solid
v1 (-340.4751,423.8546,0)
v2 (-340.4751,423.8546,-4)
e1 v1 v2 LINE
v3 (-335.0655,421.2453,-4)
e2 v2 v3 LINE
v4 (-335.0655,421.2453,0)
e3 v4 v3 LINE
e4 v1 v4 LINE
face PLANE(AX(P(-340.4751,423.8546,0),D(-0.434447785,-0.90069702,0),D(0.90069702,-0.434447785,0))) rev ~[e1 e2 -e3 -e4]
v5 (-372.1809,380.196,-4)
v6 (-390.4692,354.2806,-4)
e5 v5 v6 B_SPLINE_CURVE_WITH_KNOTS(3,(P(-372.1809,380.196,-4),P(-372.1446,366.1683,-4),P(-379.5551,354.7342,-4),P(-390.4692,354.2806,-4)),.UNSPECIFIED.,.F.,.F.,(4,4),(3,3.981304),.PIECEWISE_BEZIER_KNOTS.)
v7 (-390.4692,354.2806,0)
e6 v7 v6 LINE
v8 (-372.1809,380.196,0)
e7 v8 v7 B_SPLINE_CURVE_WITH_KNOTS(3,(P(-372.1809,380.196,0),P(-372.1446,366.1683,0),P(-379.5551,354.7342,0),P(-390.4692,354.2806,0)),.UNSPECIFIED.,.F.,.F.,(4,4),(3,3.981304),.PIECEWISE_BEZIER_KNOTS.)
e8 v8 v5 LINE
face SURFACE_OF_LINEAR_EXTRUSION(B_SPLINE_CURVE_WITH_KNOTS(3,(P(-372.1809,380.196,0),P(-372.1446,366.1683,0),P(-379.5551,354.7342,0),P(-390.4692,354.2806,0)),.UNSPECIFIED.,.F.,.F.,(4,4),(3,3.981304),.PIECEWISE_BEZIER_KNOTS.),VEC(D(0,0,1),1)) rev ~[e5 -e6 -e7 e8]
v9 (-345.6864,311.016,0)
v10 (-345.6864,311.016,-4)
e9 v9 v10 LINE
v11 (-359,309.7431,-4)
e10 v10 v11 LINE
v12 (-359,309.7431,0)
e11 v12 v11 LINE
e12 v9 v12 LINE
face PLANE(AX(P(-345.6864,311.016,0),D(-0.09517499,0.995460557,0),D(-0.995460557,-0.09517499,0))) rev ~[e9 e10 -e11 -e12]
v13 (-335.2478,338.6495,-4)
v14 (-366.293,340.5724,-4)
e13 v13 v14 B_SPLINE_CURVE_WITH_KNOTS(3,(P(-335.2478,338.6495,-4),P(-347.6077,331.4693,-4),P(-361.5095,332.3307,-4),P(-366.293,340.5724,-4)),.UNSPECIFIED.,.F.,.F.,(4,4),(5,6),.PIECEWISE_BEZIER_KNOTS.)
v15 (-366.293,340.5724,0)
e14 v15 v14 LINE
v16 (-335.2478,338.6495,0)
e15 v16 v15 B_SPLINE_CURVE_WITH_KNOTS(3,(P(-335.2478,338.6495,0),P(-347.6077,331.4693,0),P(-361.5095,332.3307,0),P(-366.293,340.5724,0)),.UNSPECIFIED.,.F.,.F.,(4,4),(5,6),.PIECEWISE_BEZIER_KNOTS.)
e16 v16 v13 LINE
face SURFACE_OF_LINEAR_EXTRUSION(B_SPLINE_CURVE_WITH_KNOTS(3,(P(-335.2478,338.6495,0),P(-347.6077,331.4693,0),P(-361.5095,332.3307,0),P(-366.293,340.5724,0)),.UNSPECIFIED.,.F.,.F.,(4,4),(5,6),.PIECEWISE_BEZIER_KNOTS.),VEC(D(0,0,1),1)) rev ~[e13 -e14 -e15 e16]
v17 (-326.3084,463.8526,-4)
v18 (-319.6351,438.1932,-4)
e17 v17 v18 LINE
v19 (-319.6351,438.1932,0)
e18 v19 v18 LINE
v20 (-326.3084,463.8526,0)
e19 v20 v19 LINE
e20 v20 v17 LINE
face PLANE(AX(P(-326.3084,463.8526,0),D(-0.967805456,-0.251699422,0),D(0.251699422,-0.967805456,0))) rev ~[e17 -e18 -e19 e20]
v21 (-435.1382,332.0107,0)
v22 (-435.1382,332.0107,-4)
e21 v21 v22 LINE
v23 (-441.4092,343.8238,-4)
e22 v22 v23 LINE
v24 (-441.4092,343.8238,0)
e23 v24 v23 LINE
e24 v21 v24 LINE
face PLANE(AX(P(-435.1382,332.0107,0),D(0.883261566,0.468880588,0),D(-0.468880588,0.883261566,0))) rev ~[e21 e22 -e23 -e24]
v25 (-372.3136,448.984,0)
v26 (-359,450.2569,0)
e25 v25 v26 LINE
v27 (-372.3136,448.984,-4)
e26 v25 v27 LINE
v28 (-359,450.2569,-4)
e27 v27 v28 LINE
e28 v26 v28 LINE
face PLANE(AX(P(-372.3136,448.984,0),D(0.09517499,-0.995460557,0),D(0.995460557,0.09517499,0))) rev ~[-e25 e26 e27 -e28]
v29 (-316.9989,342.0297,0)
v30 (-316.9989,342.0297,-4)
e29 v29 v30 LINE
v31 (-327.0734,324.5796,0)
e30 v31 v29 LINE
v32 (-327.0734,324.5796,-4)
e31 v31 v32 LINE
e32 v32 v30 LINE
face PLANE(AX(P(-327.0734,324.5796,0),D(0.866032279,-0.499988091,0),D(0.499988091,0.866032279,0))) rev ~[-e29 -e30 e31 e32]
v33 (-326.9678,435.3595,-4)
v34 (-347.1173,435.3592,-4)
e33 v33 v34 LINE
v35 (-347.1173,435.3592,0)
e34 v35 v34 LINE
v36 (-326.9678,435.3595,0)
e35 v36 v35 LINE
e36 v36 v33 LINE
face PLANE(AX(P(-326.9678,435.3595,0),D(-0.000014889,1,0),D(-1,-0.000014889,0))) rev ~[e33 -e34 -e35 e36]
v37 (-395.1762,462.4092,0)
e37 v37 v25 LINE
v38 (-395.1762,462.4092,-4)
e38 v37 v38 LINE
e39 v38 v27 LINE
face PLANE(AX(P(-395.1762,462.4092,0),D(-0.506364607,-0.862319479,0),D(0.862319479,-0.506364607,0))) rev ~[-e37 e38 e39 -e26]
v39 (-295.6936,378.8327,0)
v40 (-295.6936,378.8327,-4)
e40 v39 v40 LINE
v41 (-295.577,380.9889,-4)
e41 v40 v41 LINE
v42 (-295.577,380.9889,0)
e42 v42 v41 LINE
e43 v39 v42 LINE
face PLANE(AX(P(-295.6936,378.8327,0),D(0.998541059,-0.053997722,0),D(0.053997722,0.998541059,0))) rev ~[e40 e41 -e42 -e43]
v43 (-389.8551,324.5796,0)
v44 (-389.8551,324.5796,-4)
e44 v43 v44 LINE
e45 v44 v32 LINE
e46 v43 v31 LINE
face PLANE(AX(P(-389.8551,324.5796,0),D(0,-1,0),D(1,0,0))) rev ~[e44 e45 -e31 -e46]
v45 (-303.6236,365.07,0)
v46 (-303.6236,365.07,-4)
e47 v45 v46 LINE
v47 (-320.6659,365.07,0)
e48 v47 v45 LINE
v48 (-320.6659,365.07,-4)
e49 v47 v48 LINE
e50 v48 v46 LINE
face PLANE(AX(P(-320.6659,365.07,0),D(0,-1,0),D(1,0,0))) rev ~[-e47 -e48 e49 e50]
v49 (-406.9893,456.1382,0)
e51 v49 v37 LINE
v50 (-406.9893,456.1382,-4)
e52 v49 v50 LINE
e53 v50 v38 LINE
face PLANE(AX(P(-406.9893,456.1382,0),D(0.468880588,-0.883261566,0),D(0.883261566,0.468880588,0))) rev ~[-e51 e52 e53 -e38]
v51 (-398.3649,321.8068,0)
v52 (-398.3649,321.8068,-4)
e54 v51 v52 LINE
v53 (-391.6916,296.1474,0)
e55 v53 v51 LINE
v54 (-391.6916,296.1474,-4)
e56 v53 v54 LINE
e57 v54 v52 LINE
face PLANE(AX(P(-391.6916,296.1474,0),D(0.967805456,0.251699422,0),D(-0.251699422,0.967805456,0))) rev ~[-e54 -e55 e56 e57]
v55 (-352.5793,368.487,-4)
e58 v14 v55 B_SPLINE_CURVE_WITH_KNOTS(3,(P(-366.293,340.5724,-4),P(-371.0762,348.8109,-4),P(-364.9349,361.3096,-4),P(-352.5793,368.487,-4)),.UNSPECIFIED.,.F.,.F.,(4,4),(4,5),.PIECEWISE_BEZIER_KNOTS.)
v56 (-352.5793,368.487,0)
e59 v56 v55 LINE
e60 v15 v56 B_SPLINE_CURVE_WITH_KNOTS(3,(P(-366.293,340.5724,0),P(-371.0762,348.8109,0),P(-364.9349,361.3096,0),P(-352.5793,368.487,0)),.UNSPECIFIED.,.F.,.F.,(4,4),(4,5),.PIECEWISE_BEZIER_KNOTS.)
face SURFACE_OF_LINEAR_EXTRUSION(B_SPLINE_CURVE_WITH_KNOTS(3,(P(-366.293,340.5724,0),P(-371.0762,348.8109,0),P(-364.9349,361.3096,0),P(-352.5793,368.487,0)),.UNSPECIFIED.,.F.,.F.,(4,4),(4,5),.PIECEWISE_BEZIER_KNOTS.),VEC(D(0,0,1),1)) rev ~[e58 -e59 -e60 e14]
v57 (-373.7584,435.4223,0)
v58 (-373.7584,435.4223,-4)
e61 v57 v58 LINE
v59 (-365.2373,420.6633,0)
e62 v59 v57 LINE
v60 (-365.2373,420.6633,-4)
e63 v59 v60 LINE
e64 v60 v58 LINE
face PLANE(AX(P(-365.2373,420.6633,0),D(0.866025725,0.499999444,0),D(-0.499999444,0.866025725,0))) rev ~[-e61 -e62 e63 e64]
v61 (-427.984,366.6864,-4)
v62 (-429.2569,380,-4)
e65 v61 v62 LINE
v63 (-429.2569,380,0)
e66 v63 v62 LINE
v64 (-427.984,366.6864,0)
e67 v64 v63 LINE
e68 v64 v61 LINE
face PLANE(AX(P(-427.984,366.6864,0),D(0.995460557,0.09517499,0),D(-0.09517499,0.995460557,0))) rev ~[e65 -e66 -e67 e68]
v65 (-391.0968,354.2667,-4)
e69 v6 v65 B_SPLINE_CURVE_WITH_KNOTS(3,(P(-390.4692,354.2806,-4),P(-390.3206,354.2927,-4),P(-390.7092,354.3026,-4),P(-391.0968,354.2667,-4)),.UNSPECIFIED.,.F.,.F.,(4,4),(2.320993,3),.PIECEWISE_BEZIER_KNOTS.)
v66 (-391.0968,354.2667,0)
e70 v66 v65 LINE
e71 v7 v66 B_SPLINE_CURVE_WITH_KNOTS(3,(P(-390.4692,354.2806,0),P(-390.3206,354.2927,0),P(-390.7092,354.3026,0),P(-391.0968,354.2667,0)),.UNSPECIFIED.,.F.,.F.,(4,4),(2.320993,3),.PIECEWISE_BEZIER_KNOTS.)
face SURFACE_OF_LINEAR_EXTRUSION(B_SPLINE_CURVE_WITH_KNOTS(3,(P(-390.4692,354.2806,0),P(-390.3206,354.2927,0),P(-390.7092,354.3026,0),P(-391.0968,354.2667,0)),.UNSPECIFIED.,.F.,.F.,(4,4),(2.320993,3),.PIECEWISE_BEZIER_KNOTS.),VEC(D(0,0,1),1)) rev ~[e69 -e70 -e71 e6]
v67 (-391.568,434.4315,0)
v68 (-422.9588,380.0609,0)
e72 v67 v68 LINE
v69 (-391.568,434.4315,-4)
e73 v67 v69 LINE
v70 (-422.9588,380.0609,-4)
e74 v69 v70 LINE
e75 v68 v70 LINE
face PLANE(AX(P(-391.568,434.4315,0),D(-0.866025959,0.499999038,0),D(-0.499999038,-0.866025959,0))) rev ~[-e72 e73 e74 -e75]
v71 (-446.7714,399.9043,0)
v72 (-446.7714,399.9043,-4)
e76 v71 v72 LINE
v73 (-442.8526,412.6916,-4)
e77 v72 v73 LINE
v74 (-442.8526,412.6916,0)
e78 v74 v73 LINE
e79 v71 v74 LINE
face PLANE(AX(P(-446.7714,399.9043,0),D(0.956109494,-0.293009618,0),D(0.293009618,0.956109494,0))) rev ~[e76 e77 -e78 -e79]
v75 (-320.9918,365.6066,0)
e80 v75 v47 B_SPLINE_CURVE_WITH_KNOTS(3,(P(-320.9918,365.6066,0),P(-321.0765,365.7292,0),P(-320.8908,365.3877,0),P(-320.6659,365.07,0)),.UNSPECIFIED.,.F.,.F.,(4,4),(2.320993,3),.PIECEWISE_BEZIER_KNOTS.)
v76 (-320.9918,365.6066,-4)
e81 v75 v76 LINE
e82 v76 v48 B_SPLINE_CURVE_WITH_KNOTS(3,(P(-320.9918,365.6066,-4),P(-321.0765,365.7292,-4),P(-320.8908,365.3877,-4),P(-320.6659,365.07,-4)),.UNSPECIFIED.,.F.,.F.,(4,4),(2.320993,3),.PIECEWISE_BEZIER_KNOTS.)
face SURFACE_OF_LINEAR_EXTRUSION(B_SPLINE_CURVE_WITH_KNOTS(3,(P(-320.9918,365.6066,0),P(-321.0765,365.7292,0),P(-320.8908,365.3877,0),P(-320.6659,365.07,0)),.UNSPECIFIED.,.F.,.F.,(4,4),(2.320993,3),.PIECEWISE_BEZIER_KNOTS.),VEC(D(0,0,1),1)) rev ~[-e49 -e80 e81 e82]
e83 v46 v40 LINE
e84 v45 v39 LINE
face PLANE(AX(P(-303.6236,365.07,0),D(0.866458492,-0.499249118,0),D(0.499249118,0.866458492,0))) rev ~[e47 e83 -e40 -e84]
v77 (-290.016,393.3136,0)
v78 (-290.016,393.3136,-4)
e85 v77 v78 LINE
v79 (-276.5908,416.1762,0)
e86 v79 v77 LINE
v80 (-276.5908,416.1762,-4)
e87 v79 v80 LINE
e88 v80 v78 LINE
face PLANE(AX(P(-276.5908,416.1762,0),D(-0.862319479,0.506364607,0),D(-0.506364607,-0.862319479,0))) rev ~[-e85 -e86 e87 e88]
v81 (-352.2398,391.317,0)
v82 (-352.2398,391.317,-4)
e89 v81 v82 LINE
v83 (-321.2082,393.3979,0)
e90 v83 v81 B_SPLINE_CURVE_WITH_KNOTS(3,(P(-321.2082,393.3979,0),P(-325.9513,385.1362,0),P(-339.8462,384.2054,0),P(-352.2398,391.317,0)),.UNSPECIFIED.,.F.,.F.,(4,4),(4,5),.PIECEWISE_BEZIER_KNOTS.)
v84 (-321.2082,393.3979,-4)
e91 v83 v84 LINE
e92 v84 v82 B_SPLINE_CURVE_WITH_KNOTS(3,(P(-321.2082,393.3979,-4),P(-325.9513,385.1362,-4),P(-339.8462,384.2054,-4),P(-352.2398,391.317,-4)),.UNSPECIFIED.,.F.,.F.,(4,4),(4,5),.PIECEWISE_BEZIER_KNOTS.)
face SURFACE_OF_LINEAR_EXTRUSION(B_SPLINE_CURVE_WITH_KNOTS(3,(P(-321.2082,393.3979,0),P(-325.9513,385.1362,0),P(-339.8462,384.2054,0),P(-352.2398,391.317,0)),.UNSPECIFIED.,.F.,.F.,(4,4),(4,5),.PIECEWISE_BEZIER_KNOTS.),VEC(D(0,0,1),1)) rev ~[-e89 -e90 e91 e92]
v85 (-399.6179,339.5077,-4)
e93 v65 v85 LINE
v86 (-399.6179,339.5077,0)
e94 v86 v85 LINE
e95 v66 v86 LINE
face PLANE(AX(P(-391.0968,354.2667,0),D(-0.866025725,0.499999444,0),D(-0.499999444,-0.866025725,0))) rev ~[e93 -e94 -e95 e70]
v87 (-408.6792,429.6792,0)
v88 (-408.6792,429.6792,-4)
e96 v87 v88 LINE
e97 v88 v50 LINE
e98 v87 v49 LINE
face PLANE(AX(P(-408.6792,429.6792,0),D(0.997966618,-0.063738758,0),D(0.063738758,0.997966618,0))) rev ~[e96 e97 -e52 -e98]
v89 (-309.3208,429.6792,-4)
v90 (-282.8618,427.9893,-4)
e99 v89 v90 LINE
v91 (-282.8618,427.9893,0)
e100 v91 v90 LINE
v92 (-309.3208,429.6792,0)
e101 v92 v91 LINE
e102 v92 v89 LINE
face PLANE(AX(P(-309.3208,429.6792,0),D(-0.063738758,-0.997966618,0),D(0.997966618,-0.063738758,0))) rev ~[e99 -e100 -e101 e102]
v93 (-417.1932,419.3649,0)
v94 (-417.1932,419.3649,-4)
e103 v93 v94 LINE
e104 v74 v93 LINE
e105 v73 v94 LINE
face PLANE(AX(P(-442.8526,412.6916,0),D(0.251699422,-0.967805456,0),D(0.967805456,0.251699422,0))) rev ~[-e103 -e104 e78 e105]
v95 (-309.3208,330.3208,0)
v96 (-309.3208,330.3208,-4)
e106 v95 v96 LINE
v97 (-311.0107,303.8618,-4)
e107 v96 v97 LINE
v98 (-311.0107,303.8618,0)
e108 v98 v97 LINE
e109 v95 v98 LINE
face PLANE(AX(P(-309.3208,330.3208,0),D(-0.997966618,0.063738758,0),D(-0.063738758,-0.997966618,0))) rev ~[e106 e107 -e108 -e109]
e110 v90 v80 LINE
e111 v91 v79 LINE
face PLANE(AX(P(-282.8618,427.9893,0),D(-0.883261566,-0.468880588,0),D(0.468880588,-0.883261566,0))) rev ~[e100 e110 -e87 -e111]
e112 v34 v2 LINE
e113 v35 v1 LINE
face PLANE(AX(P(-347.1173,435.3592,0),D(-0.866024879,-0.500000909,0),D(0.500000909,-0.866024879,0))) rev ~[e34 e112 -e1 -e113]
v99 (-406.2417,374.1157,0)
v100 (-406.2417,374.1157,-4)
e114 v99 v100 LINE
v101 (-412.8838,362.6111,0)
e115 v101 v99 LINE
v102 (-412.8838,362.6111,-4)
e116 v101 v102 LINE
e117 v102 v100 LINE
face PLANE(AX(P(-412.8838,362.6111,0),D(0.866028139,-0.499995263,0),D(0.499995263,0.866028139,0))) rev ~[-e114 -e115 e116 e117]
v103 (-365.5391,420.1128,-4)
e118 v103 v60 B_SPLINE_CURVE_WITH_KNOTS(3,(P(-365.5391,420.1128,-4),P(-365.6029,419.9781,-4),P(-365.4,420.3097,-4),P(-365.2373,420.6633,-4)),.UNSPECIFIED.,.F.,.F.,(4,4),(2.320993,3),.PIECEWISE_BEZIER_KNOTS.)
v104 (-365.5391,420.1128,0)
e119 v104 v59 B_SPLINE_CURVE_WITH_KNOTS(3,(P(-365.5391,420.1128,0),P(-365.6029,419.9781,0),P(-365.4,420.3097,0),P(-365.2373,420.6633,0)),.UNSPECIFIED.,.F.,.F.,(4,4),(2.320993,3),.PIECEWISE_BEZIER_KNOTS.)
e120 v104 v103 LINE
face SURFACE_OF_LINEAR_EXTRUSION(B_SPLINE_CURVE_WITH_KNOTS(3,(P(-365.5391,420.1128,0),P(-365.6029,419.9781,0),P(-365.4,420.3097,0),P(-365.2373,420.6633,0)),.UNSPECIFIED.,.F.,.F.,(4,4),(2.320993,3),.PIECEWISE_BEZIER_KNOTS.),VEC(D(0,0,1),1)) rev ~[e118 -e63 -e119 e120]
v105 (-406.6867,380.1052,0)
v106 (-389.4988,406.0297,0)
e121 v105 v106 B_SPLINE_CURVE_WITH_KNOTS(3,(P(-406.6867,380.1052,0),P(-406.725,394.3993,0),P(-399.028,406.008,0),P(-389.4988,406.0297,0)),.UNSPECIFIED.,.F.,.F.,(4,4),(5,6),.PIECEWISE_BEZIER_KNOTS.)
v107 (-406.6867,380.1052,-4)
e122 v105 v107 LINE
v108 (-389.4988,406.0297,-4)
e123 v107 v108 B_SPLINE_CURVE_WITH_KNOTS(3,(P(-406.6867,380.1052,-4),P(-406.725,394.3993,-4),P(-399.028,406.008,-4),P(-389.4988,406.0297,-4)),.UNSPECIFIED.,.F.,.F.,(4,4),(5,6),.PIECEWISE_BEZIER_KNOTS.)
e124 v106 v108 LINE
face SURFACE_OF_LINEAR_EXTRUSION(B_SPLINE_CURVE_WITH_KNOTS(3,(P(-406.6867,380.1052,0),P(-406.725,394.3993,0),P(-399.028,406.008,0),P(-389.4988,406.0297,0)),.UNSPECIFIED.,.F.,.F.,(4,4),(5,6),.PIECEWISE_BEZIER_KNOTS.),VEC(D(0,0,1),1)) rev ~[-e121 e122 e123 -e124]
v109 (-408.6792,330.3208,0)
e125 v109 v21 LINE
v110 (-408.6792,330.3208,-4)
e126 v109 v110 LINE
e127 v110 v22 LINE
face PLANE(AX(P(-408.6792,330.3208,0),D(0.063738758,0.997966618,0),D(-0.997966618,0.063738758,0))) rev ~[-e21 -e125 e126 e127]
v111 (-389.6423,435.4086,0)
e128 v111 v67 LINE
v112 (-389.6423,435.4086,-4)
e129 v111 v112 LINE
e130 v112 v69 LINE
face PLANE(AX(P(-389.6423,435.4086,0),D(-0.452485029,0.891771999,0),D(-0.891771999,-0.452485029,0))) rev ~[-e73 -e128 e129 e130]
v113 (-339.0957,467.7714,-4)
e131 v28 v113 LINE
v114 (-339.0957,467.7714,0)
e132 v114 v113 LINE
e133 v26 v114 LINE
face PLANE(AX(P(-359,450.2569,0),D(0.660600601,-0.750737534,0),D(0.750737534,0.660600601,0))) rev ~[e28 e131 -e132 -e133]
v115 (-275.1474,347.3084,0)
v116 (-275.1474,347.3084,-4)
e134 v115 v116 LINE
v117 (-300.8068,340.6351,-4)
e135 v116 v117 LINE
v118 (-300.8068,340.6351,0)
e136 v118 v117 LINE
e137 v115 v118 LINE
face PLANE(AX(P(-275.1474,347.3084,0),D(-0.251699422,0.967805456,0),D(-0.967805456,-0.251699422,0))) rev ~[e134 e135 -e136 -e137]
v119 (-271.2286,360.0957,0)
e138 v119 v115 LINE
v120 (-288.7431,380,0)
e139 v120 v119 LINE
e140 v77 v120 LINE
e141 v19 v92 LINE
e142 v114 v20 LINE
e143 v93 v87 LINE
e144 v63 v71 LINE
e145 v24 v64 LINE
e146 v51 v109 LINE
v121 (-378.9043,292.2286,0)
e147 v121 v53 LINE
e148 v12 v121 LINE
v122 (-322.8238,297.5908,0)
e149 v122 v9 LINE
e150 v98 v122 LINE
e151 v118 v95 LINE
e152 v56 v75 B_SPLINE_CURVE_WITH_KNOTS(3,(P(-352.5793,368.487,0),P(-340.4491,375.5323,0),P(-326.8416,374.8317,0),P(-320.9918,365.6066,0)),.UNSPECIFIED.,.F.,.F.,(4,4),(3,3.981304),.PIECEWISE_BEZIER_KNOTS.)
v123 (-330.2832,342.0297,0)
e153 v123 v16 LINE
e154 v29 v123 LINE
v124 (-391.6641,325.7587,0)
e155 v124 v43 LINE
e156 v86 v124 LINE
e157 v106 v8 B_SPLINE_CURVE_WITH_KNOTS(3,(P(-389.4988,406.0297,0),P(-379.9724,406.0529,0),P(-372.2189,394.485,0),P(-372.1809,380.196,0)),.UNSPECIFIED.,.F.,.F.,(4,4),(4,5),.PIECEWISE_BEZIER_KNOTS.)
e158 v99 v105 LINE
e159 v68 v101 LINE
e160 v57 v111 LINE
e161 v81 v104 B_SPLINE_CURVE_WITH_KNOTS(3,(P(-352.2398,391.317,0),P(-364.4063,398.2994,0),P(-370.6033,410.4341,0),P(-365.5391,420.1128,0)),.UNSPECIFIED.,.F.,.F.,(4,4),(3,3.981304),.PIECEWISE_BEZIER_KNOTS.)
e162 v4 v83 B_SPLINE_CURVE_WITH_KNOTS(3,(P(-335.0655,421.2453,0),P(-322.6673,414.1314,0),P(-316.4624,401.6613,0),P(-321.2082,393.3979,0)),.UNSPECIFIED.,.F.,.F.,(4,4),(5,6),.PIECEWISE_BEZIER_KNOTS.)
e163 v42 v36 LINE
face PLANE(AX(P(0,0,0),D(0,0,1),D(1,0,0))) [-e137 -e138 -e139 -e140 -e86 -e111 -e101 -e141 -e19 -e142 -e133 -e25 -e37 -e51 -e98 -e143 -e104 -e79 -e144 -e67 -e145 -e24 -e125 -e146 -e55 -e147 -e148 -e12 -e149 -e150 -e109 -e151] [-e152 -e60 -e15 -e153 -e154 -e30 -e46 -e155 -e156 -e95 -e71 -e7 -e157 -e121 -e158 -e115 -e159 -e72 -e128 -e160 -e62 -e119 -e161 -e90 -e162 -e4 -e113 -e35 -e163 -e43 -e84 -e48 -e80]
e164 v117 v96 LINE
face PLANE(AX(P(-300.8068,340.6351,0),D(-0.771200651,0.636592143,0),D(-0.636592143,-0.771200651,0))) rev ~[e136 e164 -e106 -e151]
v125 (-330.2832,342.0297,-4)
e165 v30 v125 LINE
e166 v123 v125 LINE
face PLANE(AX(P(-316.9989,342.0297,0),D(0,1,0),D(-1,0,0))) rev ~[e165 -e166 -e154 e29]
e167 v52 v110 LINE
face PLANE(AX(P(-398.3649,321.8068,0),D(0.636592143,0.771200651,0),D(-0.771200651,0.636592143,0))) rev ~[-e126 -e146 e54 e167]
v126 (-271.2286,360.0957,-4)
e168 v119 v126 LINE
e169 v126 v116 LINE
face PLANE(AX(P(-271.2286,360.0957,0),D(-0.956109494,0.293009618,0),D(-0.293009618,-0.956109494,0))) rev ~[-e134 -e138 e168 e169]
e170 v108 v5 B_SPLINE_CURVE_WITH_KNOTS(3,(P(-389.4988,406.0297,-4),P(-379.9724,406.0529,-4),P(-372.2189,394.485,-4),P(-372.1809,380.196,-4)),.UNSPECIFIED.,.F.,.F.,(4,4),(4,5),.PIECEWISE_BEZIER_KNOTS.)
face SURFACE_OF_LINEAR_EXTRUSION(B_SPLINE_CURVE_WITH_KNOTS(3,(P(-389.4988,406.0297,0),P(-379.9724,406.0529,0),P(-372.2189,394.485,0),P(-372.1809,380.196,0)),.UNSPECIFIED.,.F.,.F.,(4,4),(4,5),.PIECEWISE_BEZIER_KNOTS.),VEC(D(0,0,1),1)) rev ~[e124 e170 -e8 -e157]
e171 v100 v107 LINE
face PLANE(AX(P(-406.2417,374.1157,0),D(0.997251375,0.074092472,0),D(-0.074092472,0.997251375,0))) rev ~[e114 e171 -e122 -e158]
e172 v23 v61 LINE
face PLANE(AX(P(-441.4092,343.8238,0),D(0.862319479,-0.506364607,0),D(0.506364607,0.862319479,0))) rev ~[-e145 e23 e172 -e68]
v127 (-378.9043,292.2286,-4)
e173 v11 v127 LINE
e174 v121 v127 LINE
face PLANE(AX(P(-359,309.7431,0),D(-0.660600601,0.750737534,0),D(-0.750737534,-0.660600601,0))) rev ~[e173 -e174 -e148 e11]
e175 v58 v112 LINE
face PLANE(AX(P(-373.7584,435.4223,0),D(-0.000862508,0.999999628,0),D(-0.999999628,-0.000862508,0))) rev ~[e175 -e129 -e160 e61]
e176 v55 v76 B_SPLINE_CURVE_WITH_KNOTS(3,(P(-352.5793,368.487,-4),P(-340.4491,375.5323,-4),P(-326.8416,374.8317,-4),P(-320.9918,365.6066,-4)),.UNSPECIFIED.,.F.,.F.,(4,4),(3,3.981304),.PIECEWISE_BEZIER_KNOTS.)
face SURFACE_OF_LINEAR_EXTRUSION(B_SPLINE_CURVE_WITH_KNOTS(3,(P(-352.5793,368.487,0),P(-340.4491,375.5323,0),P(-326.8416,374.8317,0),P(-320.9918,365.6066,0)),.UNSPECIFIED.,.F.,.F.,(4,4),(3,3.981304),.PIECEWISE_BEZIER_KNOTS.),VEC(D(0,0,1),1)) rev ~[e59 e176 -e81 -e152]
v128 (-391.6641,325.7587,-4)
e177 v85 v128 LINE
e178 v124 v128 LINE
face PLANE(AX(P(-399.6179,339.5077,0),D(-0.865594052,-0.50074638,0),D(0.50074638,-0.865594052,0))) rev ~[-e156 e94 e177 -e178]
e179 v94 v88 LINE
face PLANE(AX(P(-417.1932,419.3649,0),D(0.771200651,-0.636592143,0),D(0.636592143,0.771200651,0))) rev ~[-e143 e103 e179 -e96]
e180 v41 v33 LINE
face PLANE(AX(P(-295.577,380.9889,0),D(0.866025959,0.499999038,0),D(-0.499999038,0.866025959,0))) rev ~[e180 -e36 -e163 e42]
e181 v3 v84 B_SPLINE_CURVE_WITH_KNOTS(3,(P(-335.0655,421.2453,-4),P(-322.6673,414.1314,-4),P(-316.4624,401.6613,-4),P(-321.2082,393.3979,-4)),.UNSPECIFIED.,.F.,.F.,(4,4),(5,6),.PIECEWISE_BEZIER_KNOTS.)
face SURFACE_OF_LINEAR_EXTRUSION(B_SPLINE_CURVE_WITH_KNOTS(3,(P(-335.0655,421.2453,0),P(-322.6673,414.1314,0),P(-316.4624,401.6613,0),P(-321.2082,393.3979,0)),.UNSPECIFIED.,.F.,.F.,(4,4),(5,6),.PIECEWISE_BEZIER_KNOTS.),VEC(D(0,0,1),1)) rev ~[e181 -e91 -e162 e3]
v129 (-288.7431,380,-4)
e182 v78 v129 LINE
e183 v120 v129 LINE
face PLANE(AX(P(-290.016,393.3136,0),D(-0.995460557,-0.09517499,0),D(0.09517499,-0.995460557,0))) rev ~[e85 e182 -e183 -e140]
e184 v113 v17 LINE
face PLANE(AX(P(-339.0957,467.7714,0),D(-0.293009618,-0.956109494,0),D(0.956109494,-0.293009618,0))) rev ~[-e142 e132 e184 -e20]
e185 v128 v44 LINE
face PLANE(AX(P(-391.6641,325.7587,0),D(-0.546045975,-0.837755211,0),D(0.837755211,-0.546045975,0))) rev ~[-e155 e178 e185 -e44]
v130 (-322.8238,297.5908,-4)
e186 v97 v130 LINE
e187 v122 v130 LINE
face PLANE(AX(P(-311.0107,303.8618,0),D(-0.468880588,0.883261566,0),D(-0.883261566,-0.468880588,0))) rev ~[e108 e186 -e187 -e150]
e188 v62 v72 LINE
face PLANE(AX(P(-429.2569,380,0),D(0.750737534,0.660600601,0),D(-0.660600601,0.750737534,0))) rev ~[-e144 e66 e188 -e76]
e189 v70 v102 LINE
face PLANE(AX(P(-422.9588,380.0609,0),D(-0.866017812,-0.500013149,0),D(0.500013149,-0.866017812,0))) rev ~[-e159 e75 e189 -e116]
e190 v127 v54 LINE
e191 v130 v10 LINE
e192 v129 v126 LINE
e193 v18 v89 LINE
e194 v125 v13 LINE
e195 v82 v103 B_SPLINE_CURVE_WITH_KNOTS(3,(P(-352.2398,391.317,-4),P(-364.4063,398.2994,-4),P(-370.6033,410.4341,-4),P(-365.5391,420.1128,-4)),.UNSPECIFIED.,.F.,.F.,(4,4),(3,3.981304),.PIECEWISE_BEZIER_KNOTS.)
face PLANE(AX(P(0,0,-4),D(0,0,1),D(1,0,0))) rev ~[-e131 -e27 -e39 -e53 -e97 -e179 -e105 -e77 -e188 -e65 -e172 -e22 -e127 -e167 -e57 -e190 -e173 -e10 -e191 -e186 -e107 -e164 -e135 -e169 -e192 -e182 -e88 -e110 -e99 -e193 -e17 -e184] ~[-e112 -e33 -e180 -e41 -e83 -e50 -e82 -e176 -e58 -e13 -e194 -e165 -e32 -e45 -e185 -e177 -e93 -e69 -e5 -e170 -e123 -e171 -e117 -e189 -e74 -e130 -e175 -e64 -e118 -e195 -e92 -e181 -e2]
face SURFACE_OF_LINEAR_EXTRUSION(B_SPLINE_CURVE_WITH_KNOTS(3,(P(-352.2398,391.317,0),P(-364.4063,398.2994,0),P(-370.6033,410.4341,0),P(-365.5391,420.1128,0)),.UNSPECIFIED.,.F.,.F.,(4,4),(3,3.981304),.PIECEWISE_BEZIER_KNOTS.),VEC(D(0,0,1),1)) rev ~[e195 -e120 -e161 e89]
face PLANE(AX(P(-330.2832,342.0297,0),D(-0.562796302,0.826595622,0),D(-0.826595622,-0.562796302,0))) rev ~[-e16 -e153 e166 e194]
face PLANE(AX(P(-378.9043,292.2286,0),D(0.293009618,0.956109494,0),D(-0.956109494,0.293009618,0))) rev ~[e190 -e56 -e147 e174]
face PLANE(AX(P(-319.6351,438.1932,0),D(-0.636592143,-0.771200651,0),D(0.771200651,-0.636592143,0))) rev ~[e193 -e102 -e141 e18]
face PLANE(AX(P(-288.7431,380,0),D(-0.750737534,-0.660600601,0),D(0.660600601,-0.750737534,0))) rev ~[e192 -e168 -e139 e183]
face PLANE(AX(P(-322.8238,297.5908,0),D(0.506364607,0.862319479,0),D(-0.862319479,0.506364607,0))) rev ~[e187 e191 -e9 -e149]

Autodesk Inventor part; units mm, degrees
ref_plane "YZ Plane" through (0, 0, 0) normal (1, 0, 0) x (0, 1, 0)
ref_plane "XZ Plane" through (0, 0, 0) normal (0, 1, 0) x (-1, 0, 0)
ref_plane "XY Plane" through (0, 0, 0) normal (0, 0, 1) x (1, 0, 0)
ref_plane "Work Plane1" through (0, 0, 0) normal (0, 0, 1) x (1, 0, 0)
sketch "Sketch1" plane through (0, 0, 0) normal (0, 0, 1) x (1, 0, 0)
  line L0 (-320.6659, 365.07) -> (-303.6236, 365.07) projected
  spline S0 degree 3 poles (-320.9918, 365.6066) (-321.0765, 365.7292) (-320.8908, 365.3877) (-320.6659, 365.07) knots 2.320993 2.320993 2.320993 2.320993 3 3 3 3 projected
  spline S1 degree 3 poles (-352.5793, 368.487) (-340.4491, 375.5323) (-326.8416, 374.8317) (-320.9918, 365.6066) knots 3 3 3 3 3.981304 3.981304 3.981304 3.981304 projected
  spline S2 degree 3 poles (-366.293, 340.5724) (-371.0762, 348.8109) (-364.9349, 361.3096) (-352.5793, 368.487) knots 4 4 4 4 5 5 5 5 projected
  spline S3 degree 3 poles (-335.2478, 338.6495) (-347.6077, 331.4693) (-361.5095, 332.3307) (-366.293, 340.5724) knots 5 5 5 5 6 6 6 6 projected
  line L1 (-330.2832, 342.0297) -> (-335.2478, 338.6495) projected
  line L2 (-316.9989, 342.0297) -> (-330.2832, 342.0297) projected
  line L3 (-327.0734, 324.5796) -> (-316.9989, 342.0297) projected
  line L4 (-389.8551, 324.5796) -> (-327.0734, 324.5796) projected
  line L5 (-391.6641, 325.7587) -> (-389.8551, 324.5796) projected
  line L6 (-399.6179, 339.5077) -> (-391.6641, 325.7587) projected
  line L7 (-391.0968, 354.2667) -> (-399.6179, 339.5077) projected
  spline S4 degree 3 poles (-390.4692, 354.2806) (-390.3206, 354.2927) (-390.7092, 354.3026) (-391.0968, 354.2667) knots 2.320993 2.320993 2.320993 2.320993 3 3 3 3 projected
  spline S5 degree 3 poles (-372.1809, 380.196) (-372.1446, 366.1683) (-379.5551, 354.7342) (-390.4692, 354.2806) knots 3 3 3 3 3.981304 3.981304 3.981304 3.981304 projected
  spline S6 degree 3 poles (-389.4988, 406.0297) (-379.9724, 406.0529) (-372.2189, 394.485) (-372.1809, 380.196) knots 4 4 4 4 5 5 5 5 projected
  spline S7 degree 3 poles (-406.6867, 380.1052) (-406.725, 394.3993) (-399.028, 406.008) (-389.4988, 406.0297) knots 5 5 5 5 6 6 6 6 projected
  line L8 (-406.2417, 374.1157) -> (-406.6867, 380.1052) projected
  line L9 (-412.8838, 362.6111) -> (-406.2417, 374.1157) projected
  line L10 (-422.9588, 380.0609) -> (-412.8838, 362.6111) projected
  line L11 (-391.568, 434.4315) -> (-422.9588, 380.0609) projected
  line L12 (-389.6423, 435.4086) -> (-391.568, 434.4315) projected
  line L13 (-373.7584, 435.4223) -> (-389.6423, 435.4086) projected
  line L14 (-365.2373, 420.6633) -> (-373.7584, 435.4223) projected
  spline S8 degree 3 poles (-365.5391, 420.1128) (-365.6029, 419.9781) (-365.4, 420.3097) (-365.2373, 420.6633) knots 2.320993 2.320993 2.320993 2.320993 3 3 3 3 projected
  spline S9 degree 3 poles (-352.2398, 391.317) (-364.4063, 398.2994) (-370.6033, 410.4341) (-365.5391, 420.1128) knots 3 3 3 3 3.981304 3.981304 3.981304 3.981304 projected
  spline S10 degree 3 poles (-321.2082, 393.3979) (-325.9513, 385.1362) (-339.8462, 384.2054) (-352.2398, 391.317) knots 4 4 4 4 5 5 5 5 projected
  spline S11 degree 3 poles (-335.0655, 421.2453) (-322.6673, 414.1314) (-316.4624, 401.6613) (-321.2082, 393.3979) knots 5 5 5 5 6 6 6 6 projected
  line L15 (-340.4751, 423.8546) -> (-335.0655, 421.2453) projected
  line L16 (-347.1173, 435.3592) -> (-340.4751, 423.8546) projected
  line L17 (-326.9678, 435.3595) -> (-347.1173, 435.3592) projected
  line L18 (-295.577, 380.9889) -> (-326.9678, 435.3595) projected
  line L19 (-295.6936, 378.8327) -> (-295.577, 380.9889) projected
  line L20 (-303.6236, 365.07) -> (-295.6936, 378.8327) projected
  line L21 (-427.984, 366.6864) -> (-429.2569, 380) projected
  line L22 (-441.4092, 343.8238) -> (-427.984, 366.6864) projected
  line L23 (-435.1382, 332.0107) -> (-441.4092, 343.8238) projected
  line L24 (-408.6792, 330.3208) -> (-435.1382, 332.0107) projected
  line L25 (-398.3649, 321.8068) -> (-408.6792, 330.3208) projected
  line L26 (-391.6916, 296.1474) -> (-398.3649, 321.8068) projected
  line L27 (-378.9043, 292.2286) -> (-391.6916, 296.1474) projected
  line L28 (-359, 309.7431) -> (-378.9043, 292.2286) projected
  line L29 (-345.6864, 311.016) -> (-359, 309.7431) projected
  line L30 (-322.8238, 297.5908) -> (-345.6864, 311.016) projected
  line L31 (-311.0107, 303.8618) -> (-322.8238, 297.5908) projected
  line L32 (-309.3208, 330.3208) -> (-311.0107, 303.8618) projected
  line L33 (-300.8068, 340.6351) -> (-309.3208, 330.3208) projected
  line L34 (-275.1474, 347.3084) -> (-300.8068, 340.6351) projected
  line L35 (-271.2286, 360.0957) -> (-275.1474, 347.3084) projected
  line L36 (-288.7431, 380) -> (-271.2286, 360.0957) projected
  line L37 (-290.016, 393.3136) -> (-288.7431, 380) projected
  line L38 (-276.5908, 416.1762) -> (-290.016, 393.3136) projected
  line L39 (-282.8618, 427.9893) -> (-276.5908, 416.1762) projected
  line L40 (-309.3208, 429.6792) -> (-282.8618, 427.9893) projected
  line L41 (-319.6351, 438.1932) -> (-309.3208, 429.6792) projected
  line L42 (-326.3084, 463.8526) -> (-319.6351, 438.1932) projected
  line L43 (-339.0957, 467.7714) -> (-326.3084, 463.8526) projected
  line L44 (-359, 450.2569) -> (-339.0957, 467.7714) projected
  line L45 (-372.3136, 448.984) -> (-359, 450.2569) projected
  line L46 (-395.1762, 462.4092) -> (-372.3136, 448.984) projected
  line L47 (-406.9893, 456.1382) -> (-395.1762, 462.4092) projected
  line L48 (-408.6792, 429.6792) -> (-406.9893, 456.1382) projected
  line L49 (-417.1932, 419.3649) -> (-408.6792, 429.6792) projected
  line L50 (-442.8526, 412.6916) -> (-417.1932, 419.3649) projected
  line L51 (-446.7714, 399.9043) -> (-442.8526, 412.6916) projected
  line L52 (-429.2569, 380) -> (-446.7714, 399.9043) projected
  point P0 (0, 0)
extrude "Extrusion1" add sketch "Sketch1" against normal blind 4
properties part number "logoDraw" material "Wood (Cherry)"
